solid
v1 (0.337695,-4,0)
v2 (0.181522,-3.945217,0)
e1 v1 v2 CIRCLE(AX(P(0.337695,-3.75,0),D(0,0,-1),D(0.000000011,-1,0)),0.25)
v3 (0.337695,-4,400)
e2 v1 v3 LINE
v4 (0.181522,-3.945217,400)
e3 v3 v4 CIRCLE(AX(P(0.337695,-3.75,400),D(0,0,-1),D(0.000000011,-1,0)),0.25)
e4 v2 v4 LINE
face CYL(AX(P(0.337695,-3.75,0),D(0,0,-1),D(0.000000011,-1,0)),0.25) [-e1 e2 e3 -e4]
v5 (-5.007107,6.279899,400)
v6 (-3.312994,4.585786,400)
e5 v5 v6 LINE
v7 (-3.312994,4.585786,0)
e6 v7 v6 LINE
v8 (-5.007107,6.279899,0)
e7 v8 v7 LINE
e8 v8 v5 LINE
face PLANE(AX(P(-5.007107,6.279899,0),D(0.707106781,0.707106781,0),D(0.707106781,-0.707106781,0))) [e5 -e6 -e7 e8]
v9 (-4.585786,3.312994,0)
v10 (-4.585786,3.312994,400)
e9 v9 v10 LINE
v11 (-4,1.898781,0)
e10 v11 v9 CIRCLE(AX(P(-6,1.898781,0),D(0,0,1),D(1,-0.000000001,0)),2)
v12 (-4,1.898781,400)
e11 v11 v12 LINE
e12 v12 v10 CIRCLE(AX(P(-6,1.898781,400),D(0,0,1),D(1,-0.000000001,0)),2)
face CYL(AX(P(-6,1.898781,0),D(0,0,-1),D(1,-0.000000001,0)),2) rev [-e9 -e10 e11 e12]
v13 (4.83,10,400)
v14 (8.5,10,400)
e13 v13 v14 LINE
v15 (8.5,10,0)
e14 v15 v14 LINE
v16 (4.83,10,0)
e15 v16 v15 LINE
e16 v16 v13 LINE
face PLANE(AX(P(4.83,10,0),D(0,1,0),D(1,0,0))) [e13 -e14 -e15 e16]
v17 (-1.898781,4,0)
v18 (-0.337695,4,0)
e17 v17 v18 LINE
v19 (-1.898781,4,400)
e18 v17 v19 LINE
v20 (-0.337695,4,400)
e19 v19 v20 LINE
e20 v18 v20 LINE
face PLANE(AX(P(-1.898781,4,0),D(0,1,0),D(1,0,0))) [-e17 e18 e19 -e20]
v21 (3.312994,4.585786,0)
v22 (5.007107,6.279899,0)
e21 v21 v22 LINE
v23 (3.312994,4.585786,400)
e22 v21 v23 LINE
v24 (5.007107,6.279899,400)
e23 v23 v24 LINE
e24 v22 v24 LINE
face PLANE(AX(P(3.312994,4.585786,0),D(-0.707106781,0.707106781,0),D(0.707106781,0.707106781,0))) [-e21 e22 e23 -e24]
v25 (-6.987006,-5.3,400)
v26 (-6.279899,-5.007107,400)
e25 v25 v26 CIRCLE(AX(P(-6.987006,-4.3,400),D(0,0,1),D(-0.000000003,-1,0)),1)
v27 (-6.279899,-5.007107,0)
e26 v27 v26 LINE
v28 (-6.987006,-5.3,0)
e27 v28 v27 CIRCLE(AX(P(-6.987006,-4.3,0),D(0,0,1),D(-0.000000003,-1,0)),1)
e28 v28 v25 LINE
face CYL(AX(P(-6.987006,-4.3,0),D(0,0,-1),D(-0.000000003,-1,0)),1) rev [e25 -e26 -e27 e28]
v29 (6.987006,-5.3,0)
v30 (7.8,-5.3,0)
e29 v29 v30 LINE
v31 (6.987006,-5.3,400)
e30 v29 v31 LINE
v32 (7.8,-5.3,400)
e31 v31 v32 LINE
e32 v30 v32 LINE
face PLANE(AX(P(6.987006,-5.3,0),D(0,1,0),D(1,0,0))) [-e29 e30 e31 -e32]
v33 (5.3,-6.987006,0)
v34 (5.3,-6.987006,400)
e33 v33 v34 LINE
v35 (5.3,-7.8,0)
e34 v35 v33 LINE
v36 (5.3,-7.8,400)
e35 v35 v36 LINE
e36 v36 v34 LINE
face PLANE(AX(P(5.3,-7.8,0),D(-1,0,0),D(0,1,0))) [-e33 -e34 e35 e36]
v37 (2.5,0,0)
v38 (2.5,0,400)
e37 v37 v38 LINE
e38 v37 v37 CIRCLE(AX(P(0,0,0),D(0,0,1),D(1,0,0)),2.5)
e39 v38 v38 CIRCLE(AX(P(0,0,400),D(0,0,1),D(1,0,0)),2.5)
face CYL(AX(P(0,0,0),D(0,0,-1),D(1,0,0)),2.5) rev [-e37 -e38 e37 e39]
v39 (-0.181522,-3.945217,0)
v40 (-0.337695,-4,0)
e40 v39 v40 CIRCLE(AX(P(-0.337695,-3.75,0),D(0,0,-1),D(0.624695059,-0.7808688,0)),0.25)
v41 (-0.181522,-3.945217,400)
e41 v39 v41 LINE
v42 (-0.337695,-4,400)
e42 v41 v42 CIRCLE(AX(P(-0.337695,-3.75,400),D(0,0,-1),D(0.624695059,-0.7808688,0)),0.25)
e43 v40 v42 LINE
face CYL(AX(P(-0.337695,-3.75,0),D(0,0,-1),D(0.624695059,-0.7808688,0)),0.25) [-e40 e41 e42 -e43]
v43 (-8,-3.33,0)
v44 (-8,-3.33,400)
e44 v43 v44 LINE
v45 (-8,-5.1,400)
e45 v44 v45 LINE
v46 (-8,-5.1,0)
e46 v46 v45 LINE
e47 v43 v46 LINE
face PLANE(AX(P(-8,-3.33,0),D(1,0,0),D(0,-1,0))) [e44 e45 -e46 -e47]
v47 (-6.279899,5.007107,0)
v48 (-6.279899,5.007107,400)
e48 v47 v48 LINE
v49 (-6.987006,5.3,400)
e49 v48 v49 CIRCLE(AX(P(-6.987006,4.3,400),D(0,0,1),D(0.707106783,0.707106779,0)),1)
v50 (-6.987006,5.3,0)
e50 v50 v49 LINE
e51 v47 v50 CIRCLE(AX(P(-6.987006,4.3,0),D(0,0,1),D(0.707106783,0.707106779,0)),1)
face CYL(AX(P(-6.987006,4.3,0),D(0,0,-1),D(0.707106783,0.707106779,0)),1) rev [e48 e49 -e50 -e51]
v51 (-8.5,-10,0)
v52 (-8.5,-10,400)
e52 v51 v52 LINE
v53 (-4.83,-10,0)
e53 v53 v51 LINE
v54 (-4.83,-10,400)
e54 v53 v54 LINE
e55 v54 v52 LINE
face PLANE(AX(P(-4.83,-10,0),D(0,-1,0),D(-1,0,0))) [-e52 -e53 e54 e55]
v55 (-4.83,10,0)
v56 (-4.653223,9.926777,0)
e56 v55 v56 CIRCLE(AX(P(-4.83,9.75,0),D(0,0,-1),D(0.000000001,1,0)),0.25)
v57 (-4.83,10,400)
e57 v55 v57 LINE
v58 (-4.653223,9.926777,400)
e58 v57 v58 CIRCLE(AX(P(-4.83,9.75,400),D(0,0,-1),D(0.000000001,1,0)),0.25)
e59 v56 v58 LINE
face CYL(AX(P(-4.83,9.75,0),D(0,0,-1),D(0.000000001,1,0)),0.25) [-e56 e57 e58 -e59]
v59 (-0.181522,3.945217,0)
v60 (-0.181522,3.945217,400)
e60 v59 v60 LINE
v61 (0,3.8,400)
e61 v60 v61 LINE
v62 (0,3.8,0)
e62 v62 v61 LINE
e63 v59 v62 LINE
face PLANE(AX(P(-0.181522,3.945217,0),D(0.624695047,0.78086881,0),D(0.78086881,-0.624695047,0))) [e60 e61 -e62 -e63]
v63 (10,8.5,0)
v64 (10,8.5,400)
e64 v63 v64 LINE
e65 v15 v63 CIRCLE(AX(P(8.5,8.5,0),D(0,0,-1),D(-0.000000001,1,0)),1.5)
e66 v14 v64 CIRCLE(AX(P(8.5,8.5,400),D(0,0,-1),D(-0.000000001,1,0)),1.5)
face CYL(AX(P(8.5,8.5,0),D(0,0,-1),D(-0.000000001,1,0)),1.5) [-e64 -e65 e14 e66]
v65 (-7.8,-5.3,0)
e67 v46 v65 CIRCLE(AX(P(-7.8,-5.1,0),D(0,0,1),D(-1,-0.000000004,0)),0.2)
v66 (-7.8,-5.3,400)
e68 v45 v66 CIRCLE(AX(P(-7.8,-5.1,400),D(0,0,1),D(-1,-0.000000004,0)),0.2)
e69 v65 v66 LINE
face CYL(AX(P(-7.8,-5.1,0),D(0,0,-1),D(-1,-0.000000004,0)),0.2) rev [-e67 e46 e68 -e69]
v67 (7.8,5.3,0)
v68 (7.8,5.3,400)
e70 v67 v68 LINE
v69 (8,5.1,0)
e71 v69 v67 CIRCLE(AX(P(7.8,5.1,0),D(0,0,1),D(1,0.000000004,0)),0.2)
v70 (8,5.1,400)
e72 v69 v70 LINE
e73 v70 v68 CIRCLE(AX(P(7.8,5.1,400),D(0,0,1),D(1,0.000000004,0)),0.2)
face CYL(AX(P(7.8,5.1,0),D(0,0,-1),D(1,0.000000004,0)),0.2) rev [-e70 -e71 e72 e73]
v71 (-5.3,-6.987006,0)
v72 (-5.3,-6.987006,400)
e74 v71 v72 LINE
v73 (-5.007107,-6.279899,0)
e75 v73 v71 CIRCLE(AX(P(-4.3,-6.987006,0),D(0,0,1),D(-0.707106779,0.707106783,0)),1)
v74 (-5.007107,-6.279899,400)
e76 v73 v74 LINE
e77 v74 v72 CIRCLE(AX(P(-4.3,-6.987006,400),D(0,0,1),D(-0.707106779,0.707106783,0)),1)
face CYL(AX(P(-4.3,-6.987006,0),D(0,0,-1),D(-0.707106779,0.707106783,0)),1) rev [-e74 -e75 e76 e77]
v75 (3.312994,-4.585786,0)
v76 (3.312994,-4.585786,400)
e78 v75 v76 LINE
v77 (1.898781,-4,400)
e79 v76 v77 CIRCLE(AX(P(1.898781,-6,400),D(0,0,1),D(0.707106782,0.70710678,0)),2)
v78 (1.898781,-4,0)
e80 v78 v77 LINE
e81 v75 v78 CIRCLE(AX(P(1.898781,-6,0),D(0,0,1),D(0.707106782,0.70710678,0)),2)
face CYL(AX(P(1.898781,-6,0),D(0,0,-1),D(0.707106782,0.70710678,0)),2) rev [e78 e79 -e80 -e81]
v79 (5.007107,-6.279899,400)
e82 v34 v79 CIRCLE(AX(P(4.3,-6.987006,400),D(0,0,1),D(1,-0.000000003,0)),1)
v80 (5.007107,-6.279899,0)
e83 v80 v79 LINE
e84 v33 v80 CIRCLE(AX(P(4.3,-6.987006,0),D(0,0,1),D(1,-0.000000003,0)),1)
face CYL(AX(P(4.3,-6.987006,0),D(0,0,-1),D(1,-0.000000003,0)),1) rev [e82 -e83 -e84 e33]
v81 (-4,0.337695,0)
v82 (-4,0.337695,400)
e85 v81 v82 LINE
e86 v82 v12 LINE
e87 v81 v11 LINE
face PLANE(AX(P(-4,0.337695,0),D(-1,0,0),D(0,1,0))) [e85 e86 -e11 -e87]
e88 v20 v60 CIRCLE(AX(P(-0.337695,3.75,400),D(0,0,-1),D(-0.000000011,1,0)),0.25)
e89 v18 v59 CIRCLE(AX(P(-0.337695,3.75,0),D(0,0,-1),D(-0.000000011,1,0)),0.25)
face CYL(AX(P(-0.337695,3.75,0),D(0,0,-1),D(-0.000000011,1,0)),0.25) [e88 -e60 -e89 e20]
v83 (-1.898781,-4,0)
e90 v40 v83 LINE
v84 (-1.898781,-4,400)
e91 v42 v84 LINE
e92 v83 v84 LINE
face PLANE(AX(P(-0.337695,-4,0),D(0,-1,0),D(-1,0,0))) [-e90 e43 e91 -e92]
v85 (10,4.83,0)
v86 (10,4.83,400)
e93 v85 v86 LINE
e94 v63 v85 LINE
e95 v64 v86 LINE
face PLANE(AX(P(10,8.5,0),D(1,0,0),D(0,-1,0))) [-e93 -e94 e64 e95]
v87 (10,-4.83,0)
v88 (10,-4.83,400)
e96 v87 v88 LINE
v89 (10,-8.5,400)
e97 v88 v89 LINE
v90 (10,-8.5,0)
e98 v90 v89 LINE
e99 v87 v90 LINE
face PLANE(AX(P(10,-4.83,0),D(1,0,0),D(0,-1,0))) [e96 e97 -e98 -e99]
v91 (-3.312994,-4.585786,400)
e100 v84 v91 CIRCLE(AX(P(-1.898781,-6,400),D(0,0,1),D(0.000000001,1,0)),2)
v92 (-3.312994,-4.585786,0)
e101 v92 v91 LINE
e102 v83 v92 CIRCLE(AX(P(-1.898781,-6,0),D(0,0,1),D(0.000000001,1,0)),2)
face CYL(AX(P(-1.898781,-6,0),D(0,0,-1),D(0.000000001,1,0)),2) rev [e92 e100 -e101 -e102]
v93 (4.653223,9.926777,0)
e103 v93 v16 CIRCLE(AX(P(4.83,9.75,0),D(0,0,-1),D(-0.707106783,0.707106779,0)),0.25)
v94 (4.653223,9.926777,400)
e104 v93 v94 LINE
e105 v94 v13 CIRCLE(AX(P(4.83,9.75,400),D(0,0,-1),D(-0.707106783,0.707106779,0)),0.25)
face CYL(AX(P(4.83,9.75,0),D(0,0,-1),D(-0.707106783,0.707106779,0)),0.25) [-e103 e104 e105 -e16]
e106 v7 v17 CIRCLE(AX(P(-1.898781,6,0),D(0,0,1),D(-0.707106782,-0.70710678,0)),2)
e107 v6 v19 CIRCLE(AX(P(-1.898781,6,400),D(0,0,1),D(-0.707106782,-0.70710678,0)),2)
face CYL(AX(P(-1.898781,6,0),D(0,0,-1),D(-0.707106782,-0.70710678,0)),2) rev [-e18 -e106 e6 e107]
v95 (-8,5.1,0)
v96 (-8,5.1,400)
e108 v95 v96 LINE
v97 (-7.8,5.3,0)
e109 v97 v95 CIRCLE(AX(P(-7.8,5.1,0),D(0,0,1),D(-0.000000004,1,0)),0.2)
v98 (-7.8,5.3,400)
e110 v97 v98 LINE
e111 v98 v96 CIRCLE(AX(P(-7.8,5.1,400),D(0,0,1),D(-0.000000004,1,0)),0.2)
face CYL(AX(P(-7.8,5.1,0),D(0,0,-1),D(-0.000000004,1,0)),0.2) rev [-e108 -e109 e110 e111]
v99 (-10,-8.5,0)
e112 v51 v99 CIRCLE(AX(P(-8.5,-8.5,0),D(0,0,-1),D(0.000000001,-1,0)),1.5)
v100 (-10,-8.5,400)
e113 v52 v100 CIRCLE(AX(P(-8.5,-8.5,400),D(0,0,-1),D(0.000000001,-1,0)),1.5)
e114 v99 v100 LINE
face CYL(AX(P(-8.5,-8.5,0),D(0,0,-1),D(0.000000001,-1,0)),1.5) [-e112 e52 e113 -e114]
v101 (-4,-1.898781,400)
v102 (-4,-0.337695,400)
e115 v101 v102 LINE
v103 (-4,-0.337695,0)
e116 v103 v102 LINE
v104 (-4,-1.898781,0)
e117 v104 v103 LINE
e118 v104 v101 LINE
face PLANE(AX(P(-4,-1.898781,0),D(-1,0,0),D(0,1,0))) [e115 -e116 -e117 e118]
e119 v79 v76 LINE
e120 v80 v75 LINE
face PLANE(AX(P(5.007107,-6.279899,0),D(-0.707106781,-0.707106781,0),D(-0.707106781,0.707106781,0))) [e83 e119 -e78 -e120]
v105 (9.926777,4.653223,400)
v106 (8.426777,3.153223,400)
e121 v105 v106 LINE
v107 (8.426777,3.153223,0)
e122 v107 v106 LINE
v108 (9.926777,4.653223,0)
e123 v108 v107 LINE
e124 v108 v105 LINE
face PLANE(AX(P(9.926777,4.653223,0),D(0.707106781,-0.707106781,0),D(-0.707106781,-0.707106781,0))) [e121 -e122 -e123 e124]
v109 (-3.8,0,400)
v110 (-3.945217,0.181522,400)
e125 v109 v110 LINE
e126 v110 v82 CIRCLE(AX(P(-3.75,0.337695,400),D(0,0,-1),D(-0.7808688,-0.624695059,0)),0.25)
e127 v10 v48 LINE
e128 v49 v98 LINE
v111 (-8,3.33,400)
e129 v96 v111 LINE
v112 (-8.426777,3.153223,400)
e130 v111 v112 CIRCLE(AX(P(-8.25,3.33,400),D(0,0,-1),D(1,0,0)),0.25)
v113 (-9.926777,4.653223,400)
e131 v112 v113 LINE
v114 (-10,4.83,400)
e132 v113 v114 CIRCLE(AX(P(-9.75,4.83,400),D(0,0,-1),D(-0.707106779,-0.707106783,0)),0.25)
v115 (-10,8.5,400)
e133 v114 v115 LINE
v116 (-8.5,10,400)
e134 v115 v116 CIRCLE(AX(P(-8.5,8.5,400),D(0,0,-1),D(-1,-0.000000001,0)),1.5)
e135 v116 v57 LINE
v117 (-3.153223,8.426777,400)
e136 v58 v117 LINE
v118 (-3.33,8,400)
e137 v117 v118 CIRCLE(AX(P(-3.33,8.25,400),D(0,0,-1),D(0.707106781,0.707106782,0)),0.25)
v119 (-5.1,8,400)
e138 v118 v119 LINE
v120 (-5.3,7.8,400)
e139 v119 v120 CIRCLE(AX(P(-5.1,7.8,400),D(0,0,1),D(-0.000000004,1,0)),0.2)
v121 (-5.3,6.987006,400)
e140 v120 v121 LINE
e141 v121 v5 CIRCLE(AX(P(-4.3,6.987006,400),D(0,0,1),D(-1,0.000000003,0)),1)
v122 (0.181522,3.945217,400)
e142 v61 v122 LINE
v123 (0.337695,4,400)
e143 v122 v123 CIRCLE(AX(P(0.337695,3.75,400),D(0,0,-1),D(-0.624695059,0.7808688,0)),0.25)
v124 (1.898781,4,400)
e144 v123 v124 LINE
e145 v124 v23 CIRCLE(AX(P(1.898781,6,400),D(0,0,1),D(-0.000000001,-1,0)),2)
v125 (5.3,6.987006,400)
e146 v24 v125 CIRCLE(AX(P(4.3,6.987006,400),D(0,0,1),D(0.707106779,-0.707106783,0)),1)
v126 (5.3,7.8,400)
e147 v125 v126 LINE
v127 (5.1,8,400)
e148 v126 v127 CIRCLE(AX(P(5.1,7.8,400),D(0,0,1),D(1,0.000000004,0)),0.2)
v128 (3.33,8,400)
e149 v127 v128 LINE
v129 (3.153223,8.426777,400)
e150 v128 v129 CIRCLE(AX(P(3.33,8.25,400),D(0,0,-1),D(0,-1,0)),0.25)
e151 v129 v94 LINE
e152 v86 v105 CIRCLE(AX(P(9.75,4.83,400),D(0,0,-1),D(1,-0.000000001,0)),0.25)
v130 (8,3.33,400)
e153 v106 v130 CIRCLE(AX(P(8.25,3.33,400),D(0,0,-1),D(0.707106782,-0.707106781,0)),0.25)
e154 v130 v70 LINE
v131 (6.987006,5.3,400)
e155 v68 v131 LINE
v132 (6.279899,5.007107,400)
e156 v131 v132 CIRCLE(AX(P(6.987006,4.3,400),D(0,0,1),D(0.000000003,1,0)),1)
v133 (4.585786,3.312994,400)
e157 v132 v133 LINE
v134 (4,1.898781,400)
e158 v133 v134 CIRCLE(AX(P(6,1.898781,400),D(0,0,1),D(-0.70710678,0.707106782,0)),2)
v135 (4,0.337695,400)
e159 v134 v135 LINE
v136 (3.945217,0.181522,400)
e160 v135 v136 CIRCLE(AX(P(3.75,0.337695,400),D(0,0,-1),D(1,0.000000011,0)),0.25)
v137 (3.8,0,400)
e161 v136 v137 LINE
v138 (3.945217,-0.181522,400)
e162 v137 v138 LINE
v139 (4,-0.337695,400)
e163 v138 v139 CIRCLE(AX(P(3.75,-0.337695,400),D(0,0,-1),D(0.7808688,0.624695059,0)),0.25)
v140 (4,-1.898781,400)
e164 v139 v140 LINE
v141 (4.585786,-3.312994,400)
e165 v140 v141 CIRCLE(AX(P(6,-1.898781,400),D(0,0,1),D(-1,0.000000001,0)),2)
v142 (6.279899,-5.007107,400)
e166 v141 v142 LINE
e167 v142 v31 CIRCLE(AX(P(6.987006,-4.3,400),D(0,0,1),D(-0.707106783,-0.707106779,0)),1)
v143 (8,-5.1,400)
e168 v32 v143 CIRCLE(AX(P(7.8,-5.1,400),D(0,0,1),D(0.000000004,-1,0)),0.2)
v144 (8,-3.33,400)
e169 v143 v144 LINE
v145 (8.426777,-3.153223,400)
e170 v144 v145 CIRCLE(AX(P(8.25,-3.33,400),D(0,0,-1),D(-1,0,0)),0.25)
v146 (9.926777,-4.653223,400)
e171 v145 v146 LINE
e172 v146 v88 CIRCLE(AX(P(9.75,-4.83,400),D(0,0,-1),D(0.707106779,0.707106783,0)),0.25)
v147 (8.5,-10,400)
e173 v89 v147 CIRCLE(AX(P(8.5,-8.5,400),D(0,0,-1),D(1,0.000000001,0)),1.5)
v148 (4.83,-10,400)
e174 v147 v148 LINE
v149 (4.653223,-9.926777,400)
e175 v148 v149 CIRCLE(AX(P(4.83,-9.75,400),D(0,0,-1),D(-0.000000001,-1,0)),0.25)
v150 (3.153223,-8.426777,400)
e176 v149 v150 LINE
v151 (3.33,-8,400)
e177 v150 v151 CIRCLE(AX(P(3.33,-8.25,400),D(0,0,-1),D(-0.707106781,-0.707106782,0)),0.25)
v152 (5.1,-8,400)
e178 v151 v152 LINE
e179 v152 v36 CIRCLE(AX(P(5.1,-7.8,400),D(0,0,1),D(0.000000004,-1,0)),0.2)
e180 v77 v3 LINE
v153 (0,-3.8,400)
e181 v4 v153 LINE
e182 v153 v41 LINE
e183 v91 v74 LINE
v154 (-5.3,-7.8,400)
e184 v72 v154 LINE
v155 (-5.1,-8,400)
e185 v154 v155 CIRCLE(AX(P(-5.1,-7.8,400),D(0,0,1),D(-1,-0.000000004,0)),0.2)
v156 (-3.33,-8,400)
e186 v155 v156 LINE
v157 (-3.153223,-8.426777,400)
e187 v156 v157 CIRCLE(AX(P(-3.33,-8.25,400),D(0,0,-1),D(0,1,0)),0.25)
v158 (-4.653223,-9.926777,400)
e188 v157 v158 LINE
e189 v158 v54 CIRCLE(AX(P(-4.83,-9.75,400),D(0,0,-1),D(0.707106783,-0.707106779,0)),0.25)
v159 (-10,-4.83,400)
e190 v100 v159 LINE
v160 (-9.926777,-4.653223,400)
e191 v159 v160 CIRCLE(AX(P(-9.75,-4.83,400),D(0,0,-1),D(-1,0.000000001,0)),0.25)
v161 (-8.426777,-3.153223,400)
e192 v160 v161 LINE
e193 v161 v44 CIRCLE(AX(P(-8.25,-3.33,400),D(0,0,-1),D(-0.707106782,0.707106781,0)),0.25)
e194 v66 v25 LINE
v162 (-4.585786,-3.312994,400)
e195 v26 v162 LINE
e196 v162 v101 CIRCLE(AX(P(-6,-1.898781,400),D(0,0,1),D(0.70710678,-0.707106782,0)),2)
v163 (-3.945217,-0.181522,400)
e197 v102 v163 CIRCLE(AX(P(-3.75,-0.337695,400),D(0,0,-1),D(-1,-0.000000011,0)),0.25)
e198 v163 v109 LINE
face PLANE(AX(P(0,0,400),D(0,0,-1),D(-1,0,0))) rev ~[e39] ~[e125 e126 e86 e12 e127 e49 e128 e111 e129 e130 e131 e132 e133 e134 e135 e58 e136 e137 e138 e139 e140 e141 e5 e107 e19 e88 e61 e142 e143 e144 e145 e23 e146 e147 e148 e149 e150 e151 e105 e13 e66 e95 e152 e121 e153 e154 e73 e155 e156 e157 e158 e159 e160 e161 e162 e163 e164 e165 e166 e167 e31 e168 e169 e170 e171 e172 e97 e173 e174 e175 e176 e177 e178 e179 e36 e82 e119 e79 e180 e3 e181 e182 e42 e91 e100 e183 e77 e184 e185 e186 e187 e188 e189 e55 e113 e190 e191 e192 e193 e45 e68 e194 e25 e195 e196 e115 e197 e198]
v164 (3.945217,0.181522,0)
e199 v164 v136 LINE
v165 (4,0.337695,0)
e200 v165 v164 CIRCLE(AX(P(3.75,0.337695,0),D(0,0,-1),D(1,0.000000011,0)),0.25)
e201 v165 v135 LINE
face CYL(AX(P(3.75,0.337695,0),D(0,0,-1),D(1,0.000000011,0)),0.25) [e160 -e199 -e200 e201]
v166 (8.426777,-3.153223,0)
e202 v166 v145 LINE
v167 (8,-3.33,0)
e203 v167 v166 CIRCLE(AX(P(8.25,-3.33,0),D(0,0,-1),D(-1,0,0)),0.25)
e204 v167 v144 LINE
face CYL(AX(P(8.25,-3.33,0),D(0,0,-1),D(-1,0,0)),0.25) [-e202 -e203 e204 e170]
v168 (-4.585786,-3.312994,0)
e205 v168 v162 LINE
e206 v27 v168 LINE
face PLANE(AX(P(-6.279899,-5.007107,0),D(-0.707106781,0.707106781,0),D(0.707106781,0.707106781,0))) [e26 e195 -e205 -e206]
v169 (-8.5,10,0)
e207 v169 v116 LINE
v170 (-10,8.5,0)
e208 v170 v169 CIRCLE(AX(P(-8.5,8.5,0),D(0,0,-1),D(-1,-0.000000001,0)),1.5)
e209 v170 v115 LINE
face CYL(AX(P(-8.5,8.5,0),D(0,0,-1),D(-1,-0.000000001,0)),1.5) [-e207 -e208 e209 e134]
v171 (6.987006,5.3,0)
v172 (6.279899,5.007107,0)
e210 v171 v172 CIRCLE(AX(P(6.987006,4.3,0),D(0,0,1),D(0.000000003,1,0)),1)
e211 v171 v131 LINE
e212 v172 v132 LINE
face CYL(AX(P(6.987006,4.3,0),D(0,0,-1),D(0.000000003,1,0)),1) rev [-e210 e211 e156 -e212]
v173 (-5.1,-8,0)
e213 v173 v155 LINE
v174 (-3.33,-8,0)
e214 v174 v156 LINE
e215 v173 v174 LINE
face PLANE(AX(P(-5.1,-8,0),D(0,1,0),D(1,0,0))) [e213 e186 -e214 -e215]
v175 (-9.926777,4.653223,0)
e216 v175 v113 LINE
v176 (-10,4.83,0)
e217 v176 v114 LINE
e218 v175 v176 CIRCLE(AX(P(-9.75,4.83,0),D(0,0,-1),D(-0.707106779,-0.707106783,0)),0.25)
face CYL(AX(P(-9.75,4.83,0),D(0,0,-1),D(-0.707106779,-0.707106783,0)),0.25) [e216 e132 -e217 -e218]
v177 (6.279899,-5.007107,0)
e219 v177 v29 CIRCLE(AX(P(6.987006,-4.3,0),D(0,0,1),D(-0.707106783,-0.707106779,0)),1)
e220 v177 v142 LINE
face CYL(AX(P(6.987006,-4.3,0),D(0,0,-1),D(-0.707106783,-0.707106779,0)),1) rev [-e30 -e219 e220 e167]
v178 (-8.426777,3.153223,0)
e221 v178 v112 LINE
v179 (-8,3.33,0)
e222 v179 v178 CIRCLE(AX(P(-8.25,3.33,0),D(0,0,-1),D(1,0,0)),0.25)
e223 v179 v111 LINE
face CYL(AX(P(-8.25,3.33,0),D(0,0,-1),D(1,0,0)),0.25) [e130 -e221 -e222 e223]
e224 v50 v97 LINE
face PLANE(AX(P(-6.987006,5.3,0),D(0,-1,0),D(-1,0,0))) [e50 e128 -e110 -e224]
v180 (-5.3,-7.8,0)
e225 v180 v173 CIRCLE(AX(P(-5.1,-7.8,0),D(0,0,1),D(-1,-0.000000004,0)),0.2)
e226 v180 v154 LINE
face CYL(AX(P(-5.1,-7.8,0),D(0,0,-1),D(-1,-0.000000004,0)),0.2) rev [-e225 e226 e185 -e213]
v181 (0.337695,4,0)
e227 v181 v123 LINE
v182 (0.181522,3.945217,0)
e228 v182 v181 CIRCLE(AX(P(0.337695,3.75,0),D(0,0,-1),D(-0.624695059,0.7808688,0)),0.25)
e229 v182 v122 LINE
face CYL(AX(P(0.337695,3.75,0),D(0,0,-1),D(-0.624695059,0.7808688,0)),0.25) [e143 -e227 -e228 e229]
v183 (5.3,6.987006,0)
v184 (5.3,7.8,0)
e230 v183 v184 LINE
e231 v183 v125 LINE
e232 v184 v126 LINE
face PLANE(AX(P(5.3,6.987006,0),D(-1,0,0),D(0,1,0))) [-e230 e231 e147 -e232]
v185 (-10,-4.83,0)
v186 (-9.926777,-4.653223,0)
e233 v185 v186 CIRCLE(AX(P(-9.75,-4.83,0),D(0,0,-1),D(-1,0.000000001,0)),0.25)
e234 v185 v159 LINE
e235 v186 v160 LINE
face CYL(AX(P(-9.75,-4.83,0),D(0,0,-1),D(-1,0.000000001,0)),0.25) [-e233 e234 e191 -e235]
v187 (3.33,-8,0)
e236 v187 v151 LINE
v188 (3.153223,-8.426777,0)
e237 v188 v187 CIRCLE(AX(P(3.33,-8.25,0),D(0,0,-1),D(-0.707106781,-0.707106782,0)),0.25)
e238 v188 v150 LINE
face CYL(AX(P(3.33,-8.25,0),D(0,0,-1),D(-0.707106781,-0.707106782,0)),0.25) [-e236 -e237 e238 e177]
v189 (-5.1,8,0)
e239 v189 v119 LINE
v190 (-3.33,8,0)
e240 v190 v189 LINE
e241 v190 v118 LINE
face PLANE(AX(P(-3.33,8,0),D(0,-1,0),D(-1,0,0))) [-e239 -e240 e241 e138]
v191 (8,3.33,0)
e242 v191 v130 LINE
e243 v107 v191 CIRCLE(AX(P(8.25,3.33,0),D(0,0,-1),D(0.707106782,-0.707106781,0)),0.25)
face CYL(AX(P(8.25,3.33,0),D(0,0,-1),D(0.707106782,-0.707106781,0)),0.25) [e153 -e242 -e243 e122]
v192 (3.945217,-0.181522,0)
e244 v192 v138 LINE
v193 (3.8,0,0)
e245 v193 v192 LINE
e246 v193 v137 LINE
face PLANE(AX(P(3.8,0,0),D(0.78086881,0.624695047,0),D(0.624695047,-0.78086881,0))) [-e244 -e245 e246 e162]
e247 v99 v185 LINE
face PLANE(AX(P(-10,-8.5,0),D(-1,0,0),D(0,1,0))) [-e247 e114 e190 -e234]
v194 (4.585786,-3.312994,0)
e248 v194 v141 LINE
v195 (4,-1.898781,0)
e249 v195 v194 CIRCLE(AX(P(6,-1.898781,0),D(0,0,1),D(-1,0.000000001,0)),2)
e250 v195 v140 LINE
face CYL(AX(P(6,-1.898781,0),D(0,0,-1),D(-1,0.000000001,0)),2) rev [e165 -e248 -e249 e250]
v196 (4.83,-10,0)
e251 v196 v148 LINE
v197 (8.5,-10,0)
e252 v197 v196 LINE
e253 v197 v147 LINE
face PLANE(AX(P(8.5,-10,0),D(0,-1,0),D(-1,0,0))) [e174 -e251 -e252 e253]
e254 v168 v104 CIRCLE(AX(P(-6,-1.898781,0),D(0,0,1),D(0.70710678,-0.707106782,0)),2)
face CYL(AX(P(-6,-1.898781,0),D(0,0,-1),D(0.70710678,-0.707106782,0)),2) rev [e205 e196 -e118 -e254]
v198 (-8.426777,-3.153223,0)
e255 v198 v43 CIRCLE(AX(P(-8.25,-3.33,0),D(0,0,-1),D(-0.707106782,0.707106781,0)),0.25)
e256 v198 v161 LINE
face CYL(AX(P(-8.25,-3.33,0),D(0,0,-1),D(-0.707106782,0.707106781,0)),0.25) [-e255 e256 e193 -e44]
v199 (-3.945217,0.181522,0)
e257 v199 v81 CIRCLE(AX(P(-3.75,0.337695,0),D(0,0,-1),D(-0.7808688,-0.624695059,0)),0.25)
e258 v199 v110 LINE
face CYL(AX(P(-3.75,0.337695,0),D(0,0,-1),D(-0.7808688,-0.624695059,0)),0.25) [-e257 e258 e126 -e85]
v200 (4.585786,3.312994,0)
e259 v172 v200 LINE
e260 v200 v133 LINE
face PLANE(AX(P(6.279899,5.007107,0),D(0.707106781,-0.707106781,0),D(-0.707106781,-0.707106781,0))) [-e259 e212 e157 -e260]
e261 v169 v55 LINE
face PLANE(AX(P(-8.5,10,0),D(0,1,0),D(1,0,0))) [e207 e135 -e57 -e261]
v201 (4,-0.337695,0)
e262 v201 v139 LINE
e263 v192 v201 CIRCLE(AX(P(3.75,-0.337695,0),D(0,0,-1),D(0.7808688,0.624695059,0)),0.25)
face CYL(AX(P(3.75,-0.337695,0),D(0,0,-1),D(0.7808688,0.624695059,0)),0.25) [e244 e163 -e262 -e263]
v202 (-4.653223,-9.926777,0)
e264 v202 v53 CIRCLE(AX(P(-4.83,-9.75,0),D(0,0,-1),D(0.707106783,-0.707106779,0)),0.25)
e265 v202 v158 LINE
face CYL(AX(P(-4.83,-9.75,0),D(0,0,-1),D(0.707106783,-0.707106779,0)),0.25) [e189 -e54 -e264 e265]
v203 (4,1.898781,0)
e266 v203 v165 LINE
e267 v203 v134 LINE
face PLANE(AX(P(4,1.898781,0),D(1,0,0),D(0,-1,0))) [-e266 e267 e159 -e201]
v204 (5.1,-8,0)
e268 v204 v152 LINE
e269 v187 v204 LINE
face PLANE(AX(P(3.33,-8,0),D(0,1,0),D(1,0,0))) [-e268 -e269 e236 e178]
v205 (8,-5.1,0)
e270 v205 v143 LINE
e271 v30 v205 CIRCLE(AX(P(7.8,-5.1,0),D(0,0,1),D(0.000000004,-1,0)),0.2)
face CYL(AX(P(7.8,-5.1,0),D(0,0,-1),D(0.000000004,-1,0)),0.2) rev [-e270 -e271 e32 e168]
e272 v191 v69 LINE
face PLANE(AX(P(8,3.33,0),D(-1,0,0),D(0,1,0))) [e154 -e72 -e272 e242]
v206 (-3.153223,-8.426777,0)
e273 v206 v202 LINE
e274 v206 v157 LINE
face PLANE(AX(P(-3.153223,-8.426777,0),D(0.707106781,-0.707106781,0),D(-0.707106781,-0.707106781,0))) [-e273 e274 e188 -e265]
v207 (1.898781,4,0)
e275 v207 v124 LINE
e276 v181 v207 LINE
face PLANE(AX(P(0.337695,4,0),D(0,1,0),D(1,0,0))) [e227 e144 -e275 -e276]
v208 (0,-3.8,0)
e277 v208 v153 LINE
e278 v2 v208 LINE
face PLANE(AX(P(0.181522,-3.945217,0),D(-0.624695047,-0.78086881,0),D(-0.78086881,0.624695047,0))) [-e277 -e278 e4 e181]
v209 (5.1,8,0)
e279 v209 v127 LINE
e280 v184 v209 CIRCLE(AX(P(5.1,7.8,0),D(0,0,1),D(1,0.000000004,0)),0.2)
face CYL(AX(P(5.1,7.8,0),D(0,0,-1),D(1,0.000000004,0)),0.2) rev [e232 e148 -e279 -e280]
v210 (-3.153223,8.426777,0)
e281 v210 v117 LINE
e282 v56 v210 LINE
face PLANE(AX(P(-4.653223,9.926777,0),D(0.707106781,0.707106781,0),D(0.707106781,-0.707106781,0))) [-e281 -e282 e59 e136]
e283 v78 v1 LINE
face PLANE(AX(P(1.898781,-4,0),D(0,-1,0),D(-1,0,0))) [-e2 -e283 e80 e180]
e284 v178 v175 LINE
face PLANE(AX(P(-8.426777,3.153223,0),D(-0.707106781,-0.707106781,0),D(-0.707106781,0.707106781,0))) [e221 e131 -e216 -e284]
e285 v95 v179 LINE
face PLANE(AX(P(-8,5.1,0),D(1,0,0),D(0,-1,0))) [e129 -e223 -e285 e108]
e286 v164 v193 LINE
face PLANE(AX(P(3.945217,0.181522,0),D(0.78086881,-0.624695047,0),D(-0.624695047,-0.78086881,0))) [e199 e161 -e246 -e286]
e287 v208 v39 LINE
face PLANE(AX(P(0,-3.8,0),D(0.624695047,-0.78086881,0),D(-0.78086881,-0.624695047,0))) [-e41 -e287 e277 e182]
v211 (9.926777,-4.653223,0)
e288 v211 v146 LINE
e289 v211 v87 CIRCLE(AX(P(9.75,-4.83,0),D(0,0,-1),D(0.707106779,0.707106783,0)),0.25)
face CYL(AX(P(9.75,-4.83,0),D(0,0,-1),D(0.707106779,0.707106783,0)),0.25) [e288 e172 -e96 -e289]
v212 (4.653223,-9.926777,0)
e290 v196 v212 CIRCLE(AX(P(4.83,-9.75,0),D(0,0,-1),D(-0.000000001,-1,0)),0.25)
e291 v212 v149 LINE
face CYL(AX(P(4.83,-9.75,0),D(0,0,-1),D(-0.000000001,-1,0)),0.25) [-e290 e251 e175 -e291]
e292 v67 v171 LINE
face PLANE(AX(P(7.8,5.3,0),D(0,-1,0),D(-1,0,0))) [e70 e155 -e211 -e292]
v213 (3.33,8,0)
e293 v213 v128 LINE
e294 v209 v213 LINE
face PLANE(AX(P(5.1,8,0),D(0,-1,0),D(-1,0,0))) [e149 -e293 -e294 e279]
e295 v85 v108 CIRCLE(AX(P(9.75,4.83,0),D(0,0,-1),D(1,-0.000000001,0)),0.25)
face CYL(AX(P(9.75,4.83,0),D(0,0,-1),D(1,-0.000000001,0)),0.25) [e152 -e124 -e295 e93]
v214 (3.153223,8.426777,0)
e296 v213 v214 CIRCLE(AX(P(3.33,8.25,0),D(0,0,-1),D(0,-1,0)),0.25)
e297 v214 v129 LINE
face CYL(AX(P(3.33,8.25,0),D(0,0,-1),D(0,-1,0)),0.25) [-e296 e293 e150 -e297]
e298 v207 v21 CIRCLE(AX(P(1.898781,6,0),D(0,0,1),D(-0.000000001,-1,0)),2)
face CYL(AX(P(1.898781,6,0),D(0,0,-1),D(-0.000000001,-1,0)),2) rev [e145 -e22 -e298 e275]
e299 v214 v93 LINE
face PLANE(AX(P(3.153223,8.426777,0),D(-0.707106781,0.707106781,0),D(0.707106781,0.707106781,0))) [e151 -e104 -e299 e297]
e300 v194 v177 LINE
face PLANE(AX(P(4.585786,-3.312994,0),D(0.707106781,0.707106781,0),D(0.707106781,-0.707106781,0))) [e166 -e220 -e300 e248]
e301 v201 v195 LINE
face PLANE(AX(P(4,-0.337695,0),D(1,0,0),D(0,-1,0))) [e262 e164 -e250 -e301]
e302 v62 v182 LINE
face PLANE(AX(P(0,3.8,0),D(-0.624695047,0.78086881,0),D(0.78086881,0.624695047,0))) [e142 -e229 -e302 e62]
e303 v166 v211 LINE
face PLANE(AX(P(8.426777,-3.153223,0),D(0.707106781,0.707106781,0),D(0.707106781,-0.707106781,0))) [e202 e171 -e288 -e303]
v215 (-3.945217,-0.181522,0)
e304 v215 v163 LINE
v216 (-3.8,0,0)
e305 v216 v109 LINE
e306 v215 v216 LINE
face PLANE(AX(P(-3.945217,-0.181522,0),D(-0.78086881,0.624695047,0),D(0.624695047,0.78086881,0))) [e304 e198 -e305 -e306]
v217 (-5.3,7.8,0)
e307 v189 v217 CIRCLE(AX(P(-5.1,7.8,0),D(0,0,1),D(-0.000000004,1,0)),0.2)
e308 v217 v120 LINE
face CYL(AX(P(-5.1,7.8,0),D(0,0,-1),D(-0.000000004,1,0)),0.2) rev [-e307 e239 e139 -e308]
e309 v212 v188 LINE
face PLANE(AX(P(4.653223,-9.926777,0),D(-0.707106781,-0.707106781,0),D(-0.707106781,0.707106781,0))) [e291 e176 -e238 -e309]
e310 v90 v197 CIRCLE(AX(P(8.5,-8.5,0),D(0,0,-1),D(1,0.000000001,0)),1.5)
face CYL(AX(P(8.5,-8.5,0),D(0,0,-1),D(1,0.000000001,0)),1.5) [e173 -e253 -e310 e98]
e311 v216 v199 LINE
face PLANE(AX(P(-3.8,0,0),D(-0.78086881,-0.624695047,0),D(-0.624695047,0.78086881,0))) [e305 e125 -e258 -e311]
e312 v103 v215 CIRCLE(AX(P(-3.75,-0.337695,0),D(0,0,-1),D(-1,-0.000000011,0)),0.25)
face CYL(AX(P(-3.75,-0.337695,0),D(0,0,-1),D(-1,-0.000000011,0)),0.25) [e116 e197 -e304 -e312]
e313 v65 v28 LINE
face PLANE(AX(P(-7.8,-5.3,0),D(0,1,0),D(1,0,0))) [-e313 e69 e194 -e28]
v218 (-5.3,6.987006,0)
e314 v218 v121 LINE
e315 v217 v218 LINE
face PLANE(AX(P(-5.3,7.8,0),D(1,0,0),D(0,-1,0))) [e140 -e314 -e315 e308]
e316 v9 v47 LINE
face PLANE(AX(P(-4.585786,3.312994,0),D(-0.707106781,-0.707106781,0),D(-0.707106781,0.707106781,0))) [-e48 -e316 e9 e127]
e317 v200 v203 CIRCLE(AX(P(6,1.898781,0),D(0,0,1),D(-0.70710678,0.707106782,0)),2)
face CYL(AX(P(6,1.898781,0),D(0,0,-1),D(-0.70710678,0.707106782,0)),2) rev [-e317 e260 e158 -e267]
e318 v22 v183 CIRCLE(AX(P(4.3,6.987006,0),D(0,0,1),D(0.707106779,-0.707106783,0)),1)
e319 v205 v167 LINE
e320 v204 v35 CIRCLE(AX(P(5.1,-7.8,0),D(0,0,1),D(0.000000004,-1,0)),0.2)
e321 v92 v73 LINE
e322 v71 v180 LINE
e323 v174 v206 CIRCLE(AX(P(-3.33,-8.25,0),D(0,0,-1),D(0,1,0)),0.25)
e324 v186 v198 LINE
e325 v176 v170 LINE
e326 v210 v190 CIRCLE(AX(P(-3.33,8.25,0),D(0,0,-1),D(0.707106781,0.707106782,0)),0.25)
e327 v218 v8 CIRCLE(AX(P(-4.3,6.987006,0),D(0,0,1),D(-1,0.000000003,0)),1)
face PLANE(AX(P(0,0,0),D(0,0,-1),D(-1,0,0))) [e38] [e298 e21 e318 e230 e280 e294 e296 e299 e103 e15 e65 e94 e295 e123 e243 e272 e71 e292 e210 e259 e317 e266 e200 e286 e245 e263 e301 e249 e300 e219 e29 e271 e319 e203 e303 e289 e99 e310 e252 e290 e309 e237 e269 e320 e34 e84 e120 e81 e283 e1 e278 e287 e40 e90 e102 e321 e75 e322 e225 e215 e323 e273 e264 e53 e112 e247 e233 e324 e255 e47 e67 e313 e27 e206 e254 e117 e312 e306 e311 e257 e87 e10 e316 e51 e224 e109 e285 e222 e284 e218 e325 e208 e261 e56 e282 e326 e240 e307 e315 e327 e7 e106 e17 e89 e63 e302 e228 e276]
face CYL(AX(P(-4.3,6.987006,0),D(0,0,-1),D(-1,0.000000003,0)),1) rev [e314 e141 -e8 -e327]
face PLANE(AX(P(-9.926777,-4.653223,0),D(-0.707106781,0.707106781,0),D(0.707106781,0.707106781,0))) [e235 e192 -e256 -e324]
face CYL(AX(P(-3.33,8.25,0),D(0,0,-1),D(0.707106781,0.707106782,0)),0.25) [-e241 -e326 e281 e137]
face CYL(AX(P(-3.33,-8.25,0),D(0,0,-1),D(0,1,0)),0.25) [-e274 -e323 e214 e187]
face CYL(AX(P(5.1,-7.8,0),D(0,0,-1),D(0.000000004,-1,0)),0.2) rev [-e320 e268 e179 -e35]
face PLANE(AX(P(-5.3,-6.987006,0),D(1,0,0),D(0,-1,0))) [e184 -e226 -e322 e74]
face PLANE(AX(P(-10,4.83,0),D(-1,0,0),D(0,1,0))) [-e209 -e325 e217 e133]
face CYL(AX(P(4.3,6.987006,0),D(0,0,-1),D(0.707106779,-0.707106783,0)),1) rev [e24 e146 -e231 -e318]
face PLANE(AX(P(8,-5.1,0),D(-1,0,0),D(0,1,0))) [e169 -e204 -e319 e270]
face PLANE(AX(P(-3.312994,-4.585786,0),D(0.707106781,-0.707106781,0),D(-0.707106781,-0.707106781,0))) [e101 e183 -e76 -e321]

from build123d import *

# Parameters (mm, degrees)
MODEL_R         = 2.5
EXTRUDE_1_DEPTH = 400


with BuildPart() as part:
    # Model → Бобышка-Вытянуть1 (new body)
    with BuildSketch(Plane.XY):
        with BuildLine():
            Line((-4, 0.337695265), (-4, 1.898780669))
            ThreePointArc((-4, 1.898780669), (-4.152240935, 2.664147534), (-4.585786438, 3.312994231))
            Line((-4.585786438, 3.312994231), (-6.279898987, 5.007106781))
            ThreePointArc((-6.279898987, 5.007106781), (-6.604322336, 5.223879533), (-6.987005769, 5.3))
            Line((-6.987005769, 5.3), (-7.8, 5.3))
            ThreePointArc((-7.8, 5.3), (-7.941421356, 5.241421356), (-8, 5.1))
            Line((-8, 5.1), (-8, 3.33))
            ThreePointArc((-8, 3.33), (-8.154329142, 3.099030117), (-8.426776695, 3.153223305))
            Line((-8.426776695, 3.153223305), (-9.926776695, 4.653223305))
            ThreePointArc((-9.926776695, 4.653223305), (-9.980969883, 4.734329142), (-10, 4.83))
            Line((-10, 4.83), (-10, 8.5))
            ThreePointArc((-10, 8.5), (-9.560660172, 9.560660172), (-8.5, 10))
            Line((-8.5, 10), (-4.83, 10))
            ThreePointArc((-4.83, 10), (-4.734329142, 9.980969883), (-4.653223305, 9.926776695))
            Line((-4.653223305, 9.926776695), (-3.153223305, 8.426776695))
            ThreePointArc((-3.153223305, 8.426776695), (-3.099030117, 8.154329142), (-3.33, 8))
            Line((-3.33, 8), (-5.1, 8))
            ThreePointArc((-5.1, 8), (-5.241421356, 7.941421356), (-5.3, 7.8))
            Line((-5.3, 7.8), (-5.3, 6.987005769))
            ThreePointArc((-5.3, 6.987005769), (-5.223879533, 6.604322336), (-5.007106781, 6.279898987))
            Line((-5.007106781, 6.279898987), (-3.312994231, 4.585786438))
            ThreePointArc((-3.312994231, 4.585786438), (-2.664147534, 4.152240935), (-1.898780669, 4))
            Line((-1.898780669, 4), (-0.337695265, 4))
            ThreePointArc((-0.337695265, 4), (-0.254943529, 3.98590708), (-0.181521503, 3.945217202))
            Line((-0.181521503, 3.945217202), (0, 3.8))
            Line((0, 3.8), (0.181521503, 3.945217202))
            ThreePointArc((0.181521503, 3.945217202), (0.254943529, 3.98590708), (0.337695265, 4))
            Line((0.337695265, 4), (1.898780669, 4))
            ThreePointArc((1.898780669, 4), (2.664147534, 4.152240935), (3.312994231, 4.585786438))
            Line((3.312994231, 4.585786438), (5.007106781, 6.279898987))
            ThreePointArc((5.007106781, 6.279898987), (5.223879533, 6.604322336), (5.3, 6.987005769))
            Line((5.3, 6.987005769), (5.3, 7.8))
            ThreePointArc((5.3, 7.8), (5.241421356, 7.941421356), (5.1, 8))
            Line((5.1, 8), (3.33, 8))
            ThreePointArc((3.33, 8), (3.099030117, 8.154329142), (3.153223305, 8.426776695))
            Line((3.153223305, 8.426776695), (4.653223305, 9.926776695))
            ThreePointArc((4.653223305, 9.926776695), (4.734329142, 9.980969883), (4.83, 10))
            Line((4.83, 10), (8.5, 10))
            ThreePointArc((8.5, 10), (9.560660172, 9.560660172), (10, 8.5))
            Line((10, 8.5), (10, 4.83))
            ThreePointArc((10, 4.83), (9.980969883, 4.734329142), (9.926776695, 4.653223305))
            Line((9.926776695, 4.653223305), (8.426776695, 3.153223305))
            ThreePointArc((8.426776695, 3.153223305), (8.154329142, 3.099030117), (8, 3.33))
            Line((8, 3.33), (8, 5.1))
            ThreePointArc((8, 5.1), (7.941421356, 5.241421356), (7.8, 5.3))
            Line((7.8, 5.3), (6.987005769, 5.3))
            ThreePointArc((6.987005769, 5.3), (6.604322336, 5.223879533), (6.279898987, 5.007106781))
            Line((6.279898987, 5.007106781), (4.585786438, 3.312994231))
            ThreePointArc((4.585786438, 3.312994231), (4.152240935, 2.664147534), (4, 1.898780669))
            Line((4, 1.898780669), (4, 0.337695265))
            ThreePointArc((4, 0.337695265), (3.98590708, 0.254943529), (3.945217202, 0.181521503))
            Line((3.945217202, 0.181521503), (3.8, 0))
            Line((3.8, 0), (3.945217202, -0.181521503))
            ThreePointArc((3.945217202, -0.181521503), (3.98590708, -0.254943529), (4, -0.337695265))
            Line((4, -0.337695265), (4, -1.898780669))
            ThreePointArc((4, -1.898780669), (4.152240935, -2.664147534), (4.585786438, -3.312994231))
            Line((4.585786438, -3.312994231), (6.279898987, -5.007106781))
            ThreePointArc((6.279898987, -5.007106781), (6.604322336, -5.223879533), (6.987005769, -5.3))
            Line((6.987005769, -5.3), (7.8, -5.3))
            ThreePointArc((7.8, -5.3), (7.941421356, -5.241421356), (8, -5.1))
            Line((8, -5.1), (8, -3.33))
            ThreePointArc((8, -3.33), (8.154329142, -3.099030117), (8.426776695, -3.153223305))
            Line((8.426776695, -3.153223305), (9.926776695, -4.653223305))
            ThreePointArc((9.926776695, -4.653223305), (9.980969883, -4.734329142), (10, -4.83))
            Line((10, -4.83), (10, -8.5))
            ThreePointArc((10, -8.5), (9.560660172, -9.560660172), (8.5, -10))
            Line((8.5, -10), (4.83, -10))
            ThreePointArc((4.83, -10), (4.734329142, -9.980969883), (4.653223305, -9.926776695))
            Line((4.653223305, -9.926776695), (3.153223305, -8.426776695))
            ThreePointArc((3.153223305, -8.426776695), (3.099030117, -8.154329142), (3.33, -8))
            Line((3.33, -8), (5.1, -8))
            ThreePointArc((5.1, -8), (5.241421356, -7.941421356), (5.3, -7.8))
            Line((5.3, -7.8), (5.3, -6.987005769))
            ThreePointArc((5.3, -6.987005769), (5.223879533, -6.604322336), (5.007106781, -6.279898987))
            Line((5.007106781, -6.279898987), (3.312994231, -4.585786438))
            ThreePointArc((3.312994231, -4.585786438), (2.664147534, -4.152240935), (1.898780669, -4))
            Line((1.898780669, -4), (0.337695265, -4))
            ThreePointArc((0.337695265, -4), (0.254943529, -3.98590708), (0.181521503, -3.945217202))
            Line((0.181521503, -3.945217202), (0, -3.8))
            Line((0, -3.8), (-0.181521503, -3.945217202))
            ThreePointArc((-0.181521503, -3.945217202), (-0.254943529, -3.98590708), (-0.337695265, -4))
            Line((-0.337695265, -4), (-1.898780669, -4))
            ThreePointArc((-1.898780669, -4), (-2.664147534, -4.152240935), (-3.312994231, -4.585786438))
            Line((-3.312994231, -4.585786438), (-5.007106781, -6.279898987))
            ThreePointArc((-5.007106781, -6.279898987), (-5.223879533, -6.604322336), (-5.3, -6.987005769))
            Line((-5.3, -6.987005769), (-5.3, -7.8))
            ThreePointArc((-5.3, -7.8), (-5.241421356, -7.941421356), (-5.1, -8))
            Line((-5.1, -8), (-3.33, -8))
            ThreePointArc((-3.33, -8), (-3.099030117, -8.154329142), (-3.153223305, -8.426776695))
            Line((-3.153223305, -8.426776695), (-4.653223305, -9.926776695))
            ThreePointArc((-4.653223305, -9.926776695), (-4.734329142, -9.980969883), (-4.83, -10))
            Line((-4.83, -10), (-8.5, -10))
            ThreePointArc((-8.5, -10), (-9.560660172, -9.560660172), (-10, -8.5))
            Line((-10, -8.5), (-10, -4.83))
            ThreePointArc((-10, -4.83), (-9.980969883, -4.734329142), (-9.926776695, -4.653223305))
            Line((-9.926776695, -4.653223305), (-8.426776695, -3.153223305))
            ThreePointArc((-8.426776695, -3.153223305), (-8.154329142, -3.099030117), (-8, -3.33))
            Line((-8, -3.33), (-8, -5.1))
            ThreePointArc((-8, -5.1), (-7.941421356, -5.241421356), (-7.8, -5.3))
            Line((-7.8, -5.3), (-6.987005769, -5.3))
            ThreePointArc((-6.987005769, -5.3), (-6.604322336, -5.223879533), (-6.279898987, -5.007106781))
            Line((-6.279898987, -5.007106781), (-4.585786438, -3.312994231))
            ThreePointArc((-4.585786438, -3.312994231), (-4.152240935, -2.664147534), (-4, -1.898780669))
            Line((-4, -1.898780669), (-4, -0.337695265))
            ThreePointArc((-4, -0.337695265), (-3.98590708, -0.254943529), (-3.945217202, -0.181521503))
            Line((-3.945217202, -0.181521503), (-3.8, 0))
            Line((-3.8, 0), (-3.945217202, 0.181521503))
            ThreePointArc((-3.945217202, 0.181521503), (-3.98590708, 0.254943529), (-4, 0.337695265))
        make_face()
        Circle(MODEL_R, mode=Mode.SUBTRACT)
    extrude(amount=EXTRUDE_1_DEPTH)


solid = part.part
